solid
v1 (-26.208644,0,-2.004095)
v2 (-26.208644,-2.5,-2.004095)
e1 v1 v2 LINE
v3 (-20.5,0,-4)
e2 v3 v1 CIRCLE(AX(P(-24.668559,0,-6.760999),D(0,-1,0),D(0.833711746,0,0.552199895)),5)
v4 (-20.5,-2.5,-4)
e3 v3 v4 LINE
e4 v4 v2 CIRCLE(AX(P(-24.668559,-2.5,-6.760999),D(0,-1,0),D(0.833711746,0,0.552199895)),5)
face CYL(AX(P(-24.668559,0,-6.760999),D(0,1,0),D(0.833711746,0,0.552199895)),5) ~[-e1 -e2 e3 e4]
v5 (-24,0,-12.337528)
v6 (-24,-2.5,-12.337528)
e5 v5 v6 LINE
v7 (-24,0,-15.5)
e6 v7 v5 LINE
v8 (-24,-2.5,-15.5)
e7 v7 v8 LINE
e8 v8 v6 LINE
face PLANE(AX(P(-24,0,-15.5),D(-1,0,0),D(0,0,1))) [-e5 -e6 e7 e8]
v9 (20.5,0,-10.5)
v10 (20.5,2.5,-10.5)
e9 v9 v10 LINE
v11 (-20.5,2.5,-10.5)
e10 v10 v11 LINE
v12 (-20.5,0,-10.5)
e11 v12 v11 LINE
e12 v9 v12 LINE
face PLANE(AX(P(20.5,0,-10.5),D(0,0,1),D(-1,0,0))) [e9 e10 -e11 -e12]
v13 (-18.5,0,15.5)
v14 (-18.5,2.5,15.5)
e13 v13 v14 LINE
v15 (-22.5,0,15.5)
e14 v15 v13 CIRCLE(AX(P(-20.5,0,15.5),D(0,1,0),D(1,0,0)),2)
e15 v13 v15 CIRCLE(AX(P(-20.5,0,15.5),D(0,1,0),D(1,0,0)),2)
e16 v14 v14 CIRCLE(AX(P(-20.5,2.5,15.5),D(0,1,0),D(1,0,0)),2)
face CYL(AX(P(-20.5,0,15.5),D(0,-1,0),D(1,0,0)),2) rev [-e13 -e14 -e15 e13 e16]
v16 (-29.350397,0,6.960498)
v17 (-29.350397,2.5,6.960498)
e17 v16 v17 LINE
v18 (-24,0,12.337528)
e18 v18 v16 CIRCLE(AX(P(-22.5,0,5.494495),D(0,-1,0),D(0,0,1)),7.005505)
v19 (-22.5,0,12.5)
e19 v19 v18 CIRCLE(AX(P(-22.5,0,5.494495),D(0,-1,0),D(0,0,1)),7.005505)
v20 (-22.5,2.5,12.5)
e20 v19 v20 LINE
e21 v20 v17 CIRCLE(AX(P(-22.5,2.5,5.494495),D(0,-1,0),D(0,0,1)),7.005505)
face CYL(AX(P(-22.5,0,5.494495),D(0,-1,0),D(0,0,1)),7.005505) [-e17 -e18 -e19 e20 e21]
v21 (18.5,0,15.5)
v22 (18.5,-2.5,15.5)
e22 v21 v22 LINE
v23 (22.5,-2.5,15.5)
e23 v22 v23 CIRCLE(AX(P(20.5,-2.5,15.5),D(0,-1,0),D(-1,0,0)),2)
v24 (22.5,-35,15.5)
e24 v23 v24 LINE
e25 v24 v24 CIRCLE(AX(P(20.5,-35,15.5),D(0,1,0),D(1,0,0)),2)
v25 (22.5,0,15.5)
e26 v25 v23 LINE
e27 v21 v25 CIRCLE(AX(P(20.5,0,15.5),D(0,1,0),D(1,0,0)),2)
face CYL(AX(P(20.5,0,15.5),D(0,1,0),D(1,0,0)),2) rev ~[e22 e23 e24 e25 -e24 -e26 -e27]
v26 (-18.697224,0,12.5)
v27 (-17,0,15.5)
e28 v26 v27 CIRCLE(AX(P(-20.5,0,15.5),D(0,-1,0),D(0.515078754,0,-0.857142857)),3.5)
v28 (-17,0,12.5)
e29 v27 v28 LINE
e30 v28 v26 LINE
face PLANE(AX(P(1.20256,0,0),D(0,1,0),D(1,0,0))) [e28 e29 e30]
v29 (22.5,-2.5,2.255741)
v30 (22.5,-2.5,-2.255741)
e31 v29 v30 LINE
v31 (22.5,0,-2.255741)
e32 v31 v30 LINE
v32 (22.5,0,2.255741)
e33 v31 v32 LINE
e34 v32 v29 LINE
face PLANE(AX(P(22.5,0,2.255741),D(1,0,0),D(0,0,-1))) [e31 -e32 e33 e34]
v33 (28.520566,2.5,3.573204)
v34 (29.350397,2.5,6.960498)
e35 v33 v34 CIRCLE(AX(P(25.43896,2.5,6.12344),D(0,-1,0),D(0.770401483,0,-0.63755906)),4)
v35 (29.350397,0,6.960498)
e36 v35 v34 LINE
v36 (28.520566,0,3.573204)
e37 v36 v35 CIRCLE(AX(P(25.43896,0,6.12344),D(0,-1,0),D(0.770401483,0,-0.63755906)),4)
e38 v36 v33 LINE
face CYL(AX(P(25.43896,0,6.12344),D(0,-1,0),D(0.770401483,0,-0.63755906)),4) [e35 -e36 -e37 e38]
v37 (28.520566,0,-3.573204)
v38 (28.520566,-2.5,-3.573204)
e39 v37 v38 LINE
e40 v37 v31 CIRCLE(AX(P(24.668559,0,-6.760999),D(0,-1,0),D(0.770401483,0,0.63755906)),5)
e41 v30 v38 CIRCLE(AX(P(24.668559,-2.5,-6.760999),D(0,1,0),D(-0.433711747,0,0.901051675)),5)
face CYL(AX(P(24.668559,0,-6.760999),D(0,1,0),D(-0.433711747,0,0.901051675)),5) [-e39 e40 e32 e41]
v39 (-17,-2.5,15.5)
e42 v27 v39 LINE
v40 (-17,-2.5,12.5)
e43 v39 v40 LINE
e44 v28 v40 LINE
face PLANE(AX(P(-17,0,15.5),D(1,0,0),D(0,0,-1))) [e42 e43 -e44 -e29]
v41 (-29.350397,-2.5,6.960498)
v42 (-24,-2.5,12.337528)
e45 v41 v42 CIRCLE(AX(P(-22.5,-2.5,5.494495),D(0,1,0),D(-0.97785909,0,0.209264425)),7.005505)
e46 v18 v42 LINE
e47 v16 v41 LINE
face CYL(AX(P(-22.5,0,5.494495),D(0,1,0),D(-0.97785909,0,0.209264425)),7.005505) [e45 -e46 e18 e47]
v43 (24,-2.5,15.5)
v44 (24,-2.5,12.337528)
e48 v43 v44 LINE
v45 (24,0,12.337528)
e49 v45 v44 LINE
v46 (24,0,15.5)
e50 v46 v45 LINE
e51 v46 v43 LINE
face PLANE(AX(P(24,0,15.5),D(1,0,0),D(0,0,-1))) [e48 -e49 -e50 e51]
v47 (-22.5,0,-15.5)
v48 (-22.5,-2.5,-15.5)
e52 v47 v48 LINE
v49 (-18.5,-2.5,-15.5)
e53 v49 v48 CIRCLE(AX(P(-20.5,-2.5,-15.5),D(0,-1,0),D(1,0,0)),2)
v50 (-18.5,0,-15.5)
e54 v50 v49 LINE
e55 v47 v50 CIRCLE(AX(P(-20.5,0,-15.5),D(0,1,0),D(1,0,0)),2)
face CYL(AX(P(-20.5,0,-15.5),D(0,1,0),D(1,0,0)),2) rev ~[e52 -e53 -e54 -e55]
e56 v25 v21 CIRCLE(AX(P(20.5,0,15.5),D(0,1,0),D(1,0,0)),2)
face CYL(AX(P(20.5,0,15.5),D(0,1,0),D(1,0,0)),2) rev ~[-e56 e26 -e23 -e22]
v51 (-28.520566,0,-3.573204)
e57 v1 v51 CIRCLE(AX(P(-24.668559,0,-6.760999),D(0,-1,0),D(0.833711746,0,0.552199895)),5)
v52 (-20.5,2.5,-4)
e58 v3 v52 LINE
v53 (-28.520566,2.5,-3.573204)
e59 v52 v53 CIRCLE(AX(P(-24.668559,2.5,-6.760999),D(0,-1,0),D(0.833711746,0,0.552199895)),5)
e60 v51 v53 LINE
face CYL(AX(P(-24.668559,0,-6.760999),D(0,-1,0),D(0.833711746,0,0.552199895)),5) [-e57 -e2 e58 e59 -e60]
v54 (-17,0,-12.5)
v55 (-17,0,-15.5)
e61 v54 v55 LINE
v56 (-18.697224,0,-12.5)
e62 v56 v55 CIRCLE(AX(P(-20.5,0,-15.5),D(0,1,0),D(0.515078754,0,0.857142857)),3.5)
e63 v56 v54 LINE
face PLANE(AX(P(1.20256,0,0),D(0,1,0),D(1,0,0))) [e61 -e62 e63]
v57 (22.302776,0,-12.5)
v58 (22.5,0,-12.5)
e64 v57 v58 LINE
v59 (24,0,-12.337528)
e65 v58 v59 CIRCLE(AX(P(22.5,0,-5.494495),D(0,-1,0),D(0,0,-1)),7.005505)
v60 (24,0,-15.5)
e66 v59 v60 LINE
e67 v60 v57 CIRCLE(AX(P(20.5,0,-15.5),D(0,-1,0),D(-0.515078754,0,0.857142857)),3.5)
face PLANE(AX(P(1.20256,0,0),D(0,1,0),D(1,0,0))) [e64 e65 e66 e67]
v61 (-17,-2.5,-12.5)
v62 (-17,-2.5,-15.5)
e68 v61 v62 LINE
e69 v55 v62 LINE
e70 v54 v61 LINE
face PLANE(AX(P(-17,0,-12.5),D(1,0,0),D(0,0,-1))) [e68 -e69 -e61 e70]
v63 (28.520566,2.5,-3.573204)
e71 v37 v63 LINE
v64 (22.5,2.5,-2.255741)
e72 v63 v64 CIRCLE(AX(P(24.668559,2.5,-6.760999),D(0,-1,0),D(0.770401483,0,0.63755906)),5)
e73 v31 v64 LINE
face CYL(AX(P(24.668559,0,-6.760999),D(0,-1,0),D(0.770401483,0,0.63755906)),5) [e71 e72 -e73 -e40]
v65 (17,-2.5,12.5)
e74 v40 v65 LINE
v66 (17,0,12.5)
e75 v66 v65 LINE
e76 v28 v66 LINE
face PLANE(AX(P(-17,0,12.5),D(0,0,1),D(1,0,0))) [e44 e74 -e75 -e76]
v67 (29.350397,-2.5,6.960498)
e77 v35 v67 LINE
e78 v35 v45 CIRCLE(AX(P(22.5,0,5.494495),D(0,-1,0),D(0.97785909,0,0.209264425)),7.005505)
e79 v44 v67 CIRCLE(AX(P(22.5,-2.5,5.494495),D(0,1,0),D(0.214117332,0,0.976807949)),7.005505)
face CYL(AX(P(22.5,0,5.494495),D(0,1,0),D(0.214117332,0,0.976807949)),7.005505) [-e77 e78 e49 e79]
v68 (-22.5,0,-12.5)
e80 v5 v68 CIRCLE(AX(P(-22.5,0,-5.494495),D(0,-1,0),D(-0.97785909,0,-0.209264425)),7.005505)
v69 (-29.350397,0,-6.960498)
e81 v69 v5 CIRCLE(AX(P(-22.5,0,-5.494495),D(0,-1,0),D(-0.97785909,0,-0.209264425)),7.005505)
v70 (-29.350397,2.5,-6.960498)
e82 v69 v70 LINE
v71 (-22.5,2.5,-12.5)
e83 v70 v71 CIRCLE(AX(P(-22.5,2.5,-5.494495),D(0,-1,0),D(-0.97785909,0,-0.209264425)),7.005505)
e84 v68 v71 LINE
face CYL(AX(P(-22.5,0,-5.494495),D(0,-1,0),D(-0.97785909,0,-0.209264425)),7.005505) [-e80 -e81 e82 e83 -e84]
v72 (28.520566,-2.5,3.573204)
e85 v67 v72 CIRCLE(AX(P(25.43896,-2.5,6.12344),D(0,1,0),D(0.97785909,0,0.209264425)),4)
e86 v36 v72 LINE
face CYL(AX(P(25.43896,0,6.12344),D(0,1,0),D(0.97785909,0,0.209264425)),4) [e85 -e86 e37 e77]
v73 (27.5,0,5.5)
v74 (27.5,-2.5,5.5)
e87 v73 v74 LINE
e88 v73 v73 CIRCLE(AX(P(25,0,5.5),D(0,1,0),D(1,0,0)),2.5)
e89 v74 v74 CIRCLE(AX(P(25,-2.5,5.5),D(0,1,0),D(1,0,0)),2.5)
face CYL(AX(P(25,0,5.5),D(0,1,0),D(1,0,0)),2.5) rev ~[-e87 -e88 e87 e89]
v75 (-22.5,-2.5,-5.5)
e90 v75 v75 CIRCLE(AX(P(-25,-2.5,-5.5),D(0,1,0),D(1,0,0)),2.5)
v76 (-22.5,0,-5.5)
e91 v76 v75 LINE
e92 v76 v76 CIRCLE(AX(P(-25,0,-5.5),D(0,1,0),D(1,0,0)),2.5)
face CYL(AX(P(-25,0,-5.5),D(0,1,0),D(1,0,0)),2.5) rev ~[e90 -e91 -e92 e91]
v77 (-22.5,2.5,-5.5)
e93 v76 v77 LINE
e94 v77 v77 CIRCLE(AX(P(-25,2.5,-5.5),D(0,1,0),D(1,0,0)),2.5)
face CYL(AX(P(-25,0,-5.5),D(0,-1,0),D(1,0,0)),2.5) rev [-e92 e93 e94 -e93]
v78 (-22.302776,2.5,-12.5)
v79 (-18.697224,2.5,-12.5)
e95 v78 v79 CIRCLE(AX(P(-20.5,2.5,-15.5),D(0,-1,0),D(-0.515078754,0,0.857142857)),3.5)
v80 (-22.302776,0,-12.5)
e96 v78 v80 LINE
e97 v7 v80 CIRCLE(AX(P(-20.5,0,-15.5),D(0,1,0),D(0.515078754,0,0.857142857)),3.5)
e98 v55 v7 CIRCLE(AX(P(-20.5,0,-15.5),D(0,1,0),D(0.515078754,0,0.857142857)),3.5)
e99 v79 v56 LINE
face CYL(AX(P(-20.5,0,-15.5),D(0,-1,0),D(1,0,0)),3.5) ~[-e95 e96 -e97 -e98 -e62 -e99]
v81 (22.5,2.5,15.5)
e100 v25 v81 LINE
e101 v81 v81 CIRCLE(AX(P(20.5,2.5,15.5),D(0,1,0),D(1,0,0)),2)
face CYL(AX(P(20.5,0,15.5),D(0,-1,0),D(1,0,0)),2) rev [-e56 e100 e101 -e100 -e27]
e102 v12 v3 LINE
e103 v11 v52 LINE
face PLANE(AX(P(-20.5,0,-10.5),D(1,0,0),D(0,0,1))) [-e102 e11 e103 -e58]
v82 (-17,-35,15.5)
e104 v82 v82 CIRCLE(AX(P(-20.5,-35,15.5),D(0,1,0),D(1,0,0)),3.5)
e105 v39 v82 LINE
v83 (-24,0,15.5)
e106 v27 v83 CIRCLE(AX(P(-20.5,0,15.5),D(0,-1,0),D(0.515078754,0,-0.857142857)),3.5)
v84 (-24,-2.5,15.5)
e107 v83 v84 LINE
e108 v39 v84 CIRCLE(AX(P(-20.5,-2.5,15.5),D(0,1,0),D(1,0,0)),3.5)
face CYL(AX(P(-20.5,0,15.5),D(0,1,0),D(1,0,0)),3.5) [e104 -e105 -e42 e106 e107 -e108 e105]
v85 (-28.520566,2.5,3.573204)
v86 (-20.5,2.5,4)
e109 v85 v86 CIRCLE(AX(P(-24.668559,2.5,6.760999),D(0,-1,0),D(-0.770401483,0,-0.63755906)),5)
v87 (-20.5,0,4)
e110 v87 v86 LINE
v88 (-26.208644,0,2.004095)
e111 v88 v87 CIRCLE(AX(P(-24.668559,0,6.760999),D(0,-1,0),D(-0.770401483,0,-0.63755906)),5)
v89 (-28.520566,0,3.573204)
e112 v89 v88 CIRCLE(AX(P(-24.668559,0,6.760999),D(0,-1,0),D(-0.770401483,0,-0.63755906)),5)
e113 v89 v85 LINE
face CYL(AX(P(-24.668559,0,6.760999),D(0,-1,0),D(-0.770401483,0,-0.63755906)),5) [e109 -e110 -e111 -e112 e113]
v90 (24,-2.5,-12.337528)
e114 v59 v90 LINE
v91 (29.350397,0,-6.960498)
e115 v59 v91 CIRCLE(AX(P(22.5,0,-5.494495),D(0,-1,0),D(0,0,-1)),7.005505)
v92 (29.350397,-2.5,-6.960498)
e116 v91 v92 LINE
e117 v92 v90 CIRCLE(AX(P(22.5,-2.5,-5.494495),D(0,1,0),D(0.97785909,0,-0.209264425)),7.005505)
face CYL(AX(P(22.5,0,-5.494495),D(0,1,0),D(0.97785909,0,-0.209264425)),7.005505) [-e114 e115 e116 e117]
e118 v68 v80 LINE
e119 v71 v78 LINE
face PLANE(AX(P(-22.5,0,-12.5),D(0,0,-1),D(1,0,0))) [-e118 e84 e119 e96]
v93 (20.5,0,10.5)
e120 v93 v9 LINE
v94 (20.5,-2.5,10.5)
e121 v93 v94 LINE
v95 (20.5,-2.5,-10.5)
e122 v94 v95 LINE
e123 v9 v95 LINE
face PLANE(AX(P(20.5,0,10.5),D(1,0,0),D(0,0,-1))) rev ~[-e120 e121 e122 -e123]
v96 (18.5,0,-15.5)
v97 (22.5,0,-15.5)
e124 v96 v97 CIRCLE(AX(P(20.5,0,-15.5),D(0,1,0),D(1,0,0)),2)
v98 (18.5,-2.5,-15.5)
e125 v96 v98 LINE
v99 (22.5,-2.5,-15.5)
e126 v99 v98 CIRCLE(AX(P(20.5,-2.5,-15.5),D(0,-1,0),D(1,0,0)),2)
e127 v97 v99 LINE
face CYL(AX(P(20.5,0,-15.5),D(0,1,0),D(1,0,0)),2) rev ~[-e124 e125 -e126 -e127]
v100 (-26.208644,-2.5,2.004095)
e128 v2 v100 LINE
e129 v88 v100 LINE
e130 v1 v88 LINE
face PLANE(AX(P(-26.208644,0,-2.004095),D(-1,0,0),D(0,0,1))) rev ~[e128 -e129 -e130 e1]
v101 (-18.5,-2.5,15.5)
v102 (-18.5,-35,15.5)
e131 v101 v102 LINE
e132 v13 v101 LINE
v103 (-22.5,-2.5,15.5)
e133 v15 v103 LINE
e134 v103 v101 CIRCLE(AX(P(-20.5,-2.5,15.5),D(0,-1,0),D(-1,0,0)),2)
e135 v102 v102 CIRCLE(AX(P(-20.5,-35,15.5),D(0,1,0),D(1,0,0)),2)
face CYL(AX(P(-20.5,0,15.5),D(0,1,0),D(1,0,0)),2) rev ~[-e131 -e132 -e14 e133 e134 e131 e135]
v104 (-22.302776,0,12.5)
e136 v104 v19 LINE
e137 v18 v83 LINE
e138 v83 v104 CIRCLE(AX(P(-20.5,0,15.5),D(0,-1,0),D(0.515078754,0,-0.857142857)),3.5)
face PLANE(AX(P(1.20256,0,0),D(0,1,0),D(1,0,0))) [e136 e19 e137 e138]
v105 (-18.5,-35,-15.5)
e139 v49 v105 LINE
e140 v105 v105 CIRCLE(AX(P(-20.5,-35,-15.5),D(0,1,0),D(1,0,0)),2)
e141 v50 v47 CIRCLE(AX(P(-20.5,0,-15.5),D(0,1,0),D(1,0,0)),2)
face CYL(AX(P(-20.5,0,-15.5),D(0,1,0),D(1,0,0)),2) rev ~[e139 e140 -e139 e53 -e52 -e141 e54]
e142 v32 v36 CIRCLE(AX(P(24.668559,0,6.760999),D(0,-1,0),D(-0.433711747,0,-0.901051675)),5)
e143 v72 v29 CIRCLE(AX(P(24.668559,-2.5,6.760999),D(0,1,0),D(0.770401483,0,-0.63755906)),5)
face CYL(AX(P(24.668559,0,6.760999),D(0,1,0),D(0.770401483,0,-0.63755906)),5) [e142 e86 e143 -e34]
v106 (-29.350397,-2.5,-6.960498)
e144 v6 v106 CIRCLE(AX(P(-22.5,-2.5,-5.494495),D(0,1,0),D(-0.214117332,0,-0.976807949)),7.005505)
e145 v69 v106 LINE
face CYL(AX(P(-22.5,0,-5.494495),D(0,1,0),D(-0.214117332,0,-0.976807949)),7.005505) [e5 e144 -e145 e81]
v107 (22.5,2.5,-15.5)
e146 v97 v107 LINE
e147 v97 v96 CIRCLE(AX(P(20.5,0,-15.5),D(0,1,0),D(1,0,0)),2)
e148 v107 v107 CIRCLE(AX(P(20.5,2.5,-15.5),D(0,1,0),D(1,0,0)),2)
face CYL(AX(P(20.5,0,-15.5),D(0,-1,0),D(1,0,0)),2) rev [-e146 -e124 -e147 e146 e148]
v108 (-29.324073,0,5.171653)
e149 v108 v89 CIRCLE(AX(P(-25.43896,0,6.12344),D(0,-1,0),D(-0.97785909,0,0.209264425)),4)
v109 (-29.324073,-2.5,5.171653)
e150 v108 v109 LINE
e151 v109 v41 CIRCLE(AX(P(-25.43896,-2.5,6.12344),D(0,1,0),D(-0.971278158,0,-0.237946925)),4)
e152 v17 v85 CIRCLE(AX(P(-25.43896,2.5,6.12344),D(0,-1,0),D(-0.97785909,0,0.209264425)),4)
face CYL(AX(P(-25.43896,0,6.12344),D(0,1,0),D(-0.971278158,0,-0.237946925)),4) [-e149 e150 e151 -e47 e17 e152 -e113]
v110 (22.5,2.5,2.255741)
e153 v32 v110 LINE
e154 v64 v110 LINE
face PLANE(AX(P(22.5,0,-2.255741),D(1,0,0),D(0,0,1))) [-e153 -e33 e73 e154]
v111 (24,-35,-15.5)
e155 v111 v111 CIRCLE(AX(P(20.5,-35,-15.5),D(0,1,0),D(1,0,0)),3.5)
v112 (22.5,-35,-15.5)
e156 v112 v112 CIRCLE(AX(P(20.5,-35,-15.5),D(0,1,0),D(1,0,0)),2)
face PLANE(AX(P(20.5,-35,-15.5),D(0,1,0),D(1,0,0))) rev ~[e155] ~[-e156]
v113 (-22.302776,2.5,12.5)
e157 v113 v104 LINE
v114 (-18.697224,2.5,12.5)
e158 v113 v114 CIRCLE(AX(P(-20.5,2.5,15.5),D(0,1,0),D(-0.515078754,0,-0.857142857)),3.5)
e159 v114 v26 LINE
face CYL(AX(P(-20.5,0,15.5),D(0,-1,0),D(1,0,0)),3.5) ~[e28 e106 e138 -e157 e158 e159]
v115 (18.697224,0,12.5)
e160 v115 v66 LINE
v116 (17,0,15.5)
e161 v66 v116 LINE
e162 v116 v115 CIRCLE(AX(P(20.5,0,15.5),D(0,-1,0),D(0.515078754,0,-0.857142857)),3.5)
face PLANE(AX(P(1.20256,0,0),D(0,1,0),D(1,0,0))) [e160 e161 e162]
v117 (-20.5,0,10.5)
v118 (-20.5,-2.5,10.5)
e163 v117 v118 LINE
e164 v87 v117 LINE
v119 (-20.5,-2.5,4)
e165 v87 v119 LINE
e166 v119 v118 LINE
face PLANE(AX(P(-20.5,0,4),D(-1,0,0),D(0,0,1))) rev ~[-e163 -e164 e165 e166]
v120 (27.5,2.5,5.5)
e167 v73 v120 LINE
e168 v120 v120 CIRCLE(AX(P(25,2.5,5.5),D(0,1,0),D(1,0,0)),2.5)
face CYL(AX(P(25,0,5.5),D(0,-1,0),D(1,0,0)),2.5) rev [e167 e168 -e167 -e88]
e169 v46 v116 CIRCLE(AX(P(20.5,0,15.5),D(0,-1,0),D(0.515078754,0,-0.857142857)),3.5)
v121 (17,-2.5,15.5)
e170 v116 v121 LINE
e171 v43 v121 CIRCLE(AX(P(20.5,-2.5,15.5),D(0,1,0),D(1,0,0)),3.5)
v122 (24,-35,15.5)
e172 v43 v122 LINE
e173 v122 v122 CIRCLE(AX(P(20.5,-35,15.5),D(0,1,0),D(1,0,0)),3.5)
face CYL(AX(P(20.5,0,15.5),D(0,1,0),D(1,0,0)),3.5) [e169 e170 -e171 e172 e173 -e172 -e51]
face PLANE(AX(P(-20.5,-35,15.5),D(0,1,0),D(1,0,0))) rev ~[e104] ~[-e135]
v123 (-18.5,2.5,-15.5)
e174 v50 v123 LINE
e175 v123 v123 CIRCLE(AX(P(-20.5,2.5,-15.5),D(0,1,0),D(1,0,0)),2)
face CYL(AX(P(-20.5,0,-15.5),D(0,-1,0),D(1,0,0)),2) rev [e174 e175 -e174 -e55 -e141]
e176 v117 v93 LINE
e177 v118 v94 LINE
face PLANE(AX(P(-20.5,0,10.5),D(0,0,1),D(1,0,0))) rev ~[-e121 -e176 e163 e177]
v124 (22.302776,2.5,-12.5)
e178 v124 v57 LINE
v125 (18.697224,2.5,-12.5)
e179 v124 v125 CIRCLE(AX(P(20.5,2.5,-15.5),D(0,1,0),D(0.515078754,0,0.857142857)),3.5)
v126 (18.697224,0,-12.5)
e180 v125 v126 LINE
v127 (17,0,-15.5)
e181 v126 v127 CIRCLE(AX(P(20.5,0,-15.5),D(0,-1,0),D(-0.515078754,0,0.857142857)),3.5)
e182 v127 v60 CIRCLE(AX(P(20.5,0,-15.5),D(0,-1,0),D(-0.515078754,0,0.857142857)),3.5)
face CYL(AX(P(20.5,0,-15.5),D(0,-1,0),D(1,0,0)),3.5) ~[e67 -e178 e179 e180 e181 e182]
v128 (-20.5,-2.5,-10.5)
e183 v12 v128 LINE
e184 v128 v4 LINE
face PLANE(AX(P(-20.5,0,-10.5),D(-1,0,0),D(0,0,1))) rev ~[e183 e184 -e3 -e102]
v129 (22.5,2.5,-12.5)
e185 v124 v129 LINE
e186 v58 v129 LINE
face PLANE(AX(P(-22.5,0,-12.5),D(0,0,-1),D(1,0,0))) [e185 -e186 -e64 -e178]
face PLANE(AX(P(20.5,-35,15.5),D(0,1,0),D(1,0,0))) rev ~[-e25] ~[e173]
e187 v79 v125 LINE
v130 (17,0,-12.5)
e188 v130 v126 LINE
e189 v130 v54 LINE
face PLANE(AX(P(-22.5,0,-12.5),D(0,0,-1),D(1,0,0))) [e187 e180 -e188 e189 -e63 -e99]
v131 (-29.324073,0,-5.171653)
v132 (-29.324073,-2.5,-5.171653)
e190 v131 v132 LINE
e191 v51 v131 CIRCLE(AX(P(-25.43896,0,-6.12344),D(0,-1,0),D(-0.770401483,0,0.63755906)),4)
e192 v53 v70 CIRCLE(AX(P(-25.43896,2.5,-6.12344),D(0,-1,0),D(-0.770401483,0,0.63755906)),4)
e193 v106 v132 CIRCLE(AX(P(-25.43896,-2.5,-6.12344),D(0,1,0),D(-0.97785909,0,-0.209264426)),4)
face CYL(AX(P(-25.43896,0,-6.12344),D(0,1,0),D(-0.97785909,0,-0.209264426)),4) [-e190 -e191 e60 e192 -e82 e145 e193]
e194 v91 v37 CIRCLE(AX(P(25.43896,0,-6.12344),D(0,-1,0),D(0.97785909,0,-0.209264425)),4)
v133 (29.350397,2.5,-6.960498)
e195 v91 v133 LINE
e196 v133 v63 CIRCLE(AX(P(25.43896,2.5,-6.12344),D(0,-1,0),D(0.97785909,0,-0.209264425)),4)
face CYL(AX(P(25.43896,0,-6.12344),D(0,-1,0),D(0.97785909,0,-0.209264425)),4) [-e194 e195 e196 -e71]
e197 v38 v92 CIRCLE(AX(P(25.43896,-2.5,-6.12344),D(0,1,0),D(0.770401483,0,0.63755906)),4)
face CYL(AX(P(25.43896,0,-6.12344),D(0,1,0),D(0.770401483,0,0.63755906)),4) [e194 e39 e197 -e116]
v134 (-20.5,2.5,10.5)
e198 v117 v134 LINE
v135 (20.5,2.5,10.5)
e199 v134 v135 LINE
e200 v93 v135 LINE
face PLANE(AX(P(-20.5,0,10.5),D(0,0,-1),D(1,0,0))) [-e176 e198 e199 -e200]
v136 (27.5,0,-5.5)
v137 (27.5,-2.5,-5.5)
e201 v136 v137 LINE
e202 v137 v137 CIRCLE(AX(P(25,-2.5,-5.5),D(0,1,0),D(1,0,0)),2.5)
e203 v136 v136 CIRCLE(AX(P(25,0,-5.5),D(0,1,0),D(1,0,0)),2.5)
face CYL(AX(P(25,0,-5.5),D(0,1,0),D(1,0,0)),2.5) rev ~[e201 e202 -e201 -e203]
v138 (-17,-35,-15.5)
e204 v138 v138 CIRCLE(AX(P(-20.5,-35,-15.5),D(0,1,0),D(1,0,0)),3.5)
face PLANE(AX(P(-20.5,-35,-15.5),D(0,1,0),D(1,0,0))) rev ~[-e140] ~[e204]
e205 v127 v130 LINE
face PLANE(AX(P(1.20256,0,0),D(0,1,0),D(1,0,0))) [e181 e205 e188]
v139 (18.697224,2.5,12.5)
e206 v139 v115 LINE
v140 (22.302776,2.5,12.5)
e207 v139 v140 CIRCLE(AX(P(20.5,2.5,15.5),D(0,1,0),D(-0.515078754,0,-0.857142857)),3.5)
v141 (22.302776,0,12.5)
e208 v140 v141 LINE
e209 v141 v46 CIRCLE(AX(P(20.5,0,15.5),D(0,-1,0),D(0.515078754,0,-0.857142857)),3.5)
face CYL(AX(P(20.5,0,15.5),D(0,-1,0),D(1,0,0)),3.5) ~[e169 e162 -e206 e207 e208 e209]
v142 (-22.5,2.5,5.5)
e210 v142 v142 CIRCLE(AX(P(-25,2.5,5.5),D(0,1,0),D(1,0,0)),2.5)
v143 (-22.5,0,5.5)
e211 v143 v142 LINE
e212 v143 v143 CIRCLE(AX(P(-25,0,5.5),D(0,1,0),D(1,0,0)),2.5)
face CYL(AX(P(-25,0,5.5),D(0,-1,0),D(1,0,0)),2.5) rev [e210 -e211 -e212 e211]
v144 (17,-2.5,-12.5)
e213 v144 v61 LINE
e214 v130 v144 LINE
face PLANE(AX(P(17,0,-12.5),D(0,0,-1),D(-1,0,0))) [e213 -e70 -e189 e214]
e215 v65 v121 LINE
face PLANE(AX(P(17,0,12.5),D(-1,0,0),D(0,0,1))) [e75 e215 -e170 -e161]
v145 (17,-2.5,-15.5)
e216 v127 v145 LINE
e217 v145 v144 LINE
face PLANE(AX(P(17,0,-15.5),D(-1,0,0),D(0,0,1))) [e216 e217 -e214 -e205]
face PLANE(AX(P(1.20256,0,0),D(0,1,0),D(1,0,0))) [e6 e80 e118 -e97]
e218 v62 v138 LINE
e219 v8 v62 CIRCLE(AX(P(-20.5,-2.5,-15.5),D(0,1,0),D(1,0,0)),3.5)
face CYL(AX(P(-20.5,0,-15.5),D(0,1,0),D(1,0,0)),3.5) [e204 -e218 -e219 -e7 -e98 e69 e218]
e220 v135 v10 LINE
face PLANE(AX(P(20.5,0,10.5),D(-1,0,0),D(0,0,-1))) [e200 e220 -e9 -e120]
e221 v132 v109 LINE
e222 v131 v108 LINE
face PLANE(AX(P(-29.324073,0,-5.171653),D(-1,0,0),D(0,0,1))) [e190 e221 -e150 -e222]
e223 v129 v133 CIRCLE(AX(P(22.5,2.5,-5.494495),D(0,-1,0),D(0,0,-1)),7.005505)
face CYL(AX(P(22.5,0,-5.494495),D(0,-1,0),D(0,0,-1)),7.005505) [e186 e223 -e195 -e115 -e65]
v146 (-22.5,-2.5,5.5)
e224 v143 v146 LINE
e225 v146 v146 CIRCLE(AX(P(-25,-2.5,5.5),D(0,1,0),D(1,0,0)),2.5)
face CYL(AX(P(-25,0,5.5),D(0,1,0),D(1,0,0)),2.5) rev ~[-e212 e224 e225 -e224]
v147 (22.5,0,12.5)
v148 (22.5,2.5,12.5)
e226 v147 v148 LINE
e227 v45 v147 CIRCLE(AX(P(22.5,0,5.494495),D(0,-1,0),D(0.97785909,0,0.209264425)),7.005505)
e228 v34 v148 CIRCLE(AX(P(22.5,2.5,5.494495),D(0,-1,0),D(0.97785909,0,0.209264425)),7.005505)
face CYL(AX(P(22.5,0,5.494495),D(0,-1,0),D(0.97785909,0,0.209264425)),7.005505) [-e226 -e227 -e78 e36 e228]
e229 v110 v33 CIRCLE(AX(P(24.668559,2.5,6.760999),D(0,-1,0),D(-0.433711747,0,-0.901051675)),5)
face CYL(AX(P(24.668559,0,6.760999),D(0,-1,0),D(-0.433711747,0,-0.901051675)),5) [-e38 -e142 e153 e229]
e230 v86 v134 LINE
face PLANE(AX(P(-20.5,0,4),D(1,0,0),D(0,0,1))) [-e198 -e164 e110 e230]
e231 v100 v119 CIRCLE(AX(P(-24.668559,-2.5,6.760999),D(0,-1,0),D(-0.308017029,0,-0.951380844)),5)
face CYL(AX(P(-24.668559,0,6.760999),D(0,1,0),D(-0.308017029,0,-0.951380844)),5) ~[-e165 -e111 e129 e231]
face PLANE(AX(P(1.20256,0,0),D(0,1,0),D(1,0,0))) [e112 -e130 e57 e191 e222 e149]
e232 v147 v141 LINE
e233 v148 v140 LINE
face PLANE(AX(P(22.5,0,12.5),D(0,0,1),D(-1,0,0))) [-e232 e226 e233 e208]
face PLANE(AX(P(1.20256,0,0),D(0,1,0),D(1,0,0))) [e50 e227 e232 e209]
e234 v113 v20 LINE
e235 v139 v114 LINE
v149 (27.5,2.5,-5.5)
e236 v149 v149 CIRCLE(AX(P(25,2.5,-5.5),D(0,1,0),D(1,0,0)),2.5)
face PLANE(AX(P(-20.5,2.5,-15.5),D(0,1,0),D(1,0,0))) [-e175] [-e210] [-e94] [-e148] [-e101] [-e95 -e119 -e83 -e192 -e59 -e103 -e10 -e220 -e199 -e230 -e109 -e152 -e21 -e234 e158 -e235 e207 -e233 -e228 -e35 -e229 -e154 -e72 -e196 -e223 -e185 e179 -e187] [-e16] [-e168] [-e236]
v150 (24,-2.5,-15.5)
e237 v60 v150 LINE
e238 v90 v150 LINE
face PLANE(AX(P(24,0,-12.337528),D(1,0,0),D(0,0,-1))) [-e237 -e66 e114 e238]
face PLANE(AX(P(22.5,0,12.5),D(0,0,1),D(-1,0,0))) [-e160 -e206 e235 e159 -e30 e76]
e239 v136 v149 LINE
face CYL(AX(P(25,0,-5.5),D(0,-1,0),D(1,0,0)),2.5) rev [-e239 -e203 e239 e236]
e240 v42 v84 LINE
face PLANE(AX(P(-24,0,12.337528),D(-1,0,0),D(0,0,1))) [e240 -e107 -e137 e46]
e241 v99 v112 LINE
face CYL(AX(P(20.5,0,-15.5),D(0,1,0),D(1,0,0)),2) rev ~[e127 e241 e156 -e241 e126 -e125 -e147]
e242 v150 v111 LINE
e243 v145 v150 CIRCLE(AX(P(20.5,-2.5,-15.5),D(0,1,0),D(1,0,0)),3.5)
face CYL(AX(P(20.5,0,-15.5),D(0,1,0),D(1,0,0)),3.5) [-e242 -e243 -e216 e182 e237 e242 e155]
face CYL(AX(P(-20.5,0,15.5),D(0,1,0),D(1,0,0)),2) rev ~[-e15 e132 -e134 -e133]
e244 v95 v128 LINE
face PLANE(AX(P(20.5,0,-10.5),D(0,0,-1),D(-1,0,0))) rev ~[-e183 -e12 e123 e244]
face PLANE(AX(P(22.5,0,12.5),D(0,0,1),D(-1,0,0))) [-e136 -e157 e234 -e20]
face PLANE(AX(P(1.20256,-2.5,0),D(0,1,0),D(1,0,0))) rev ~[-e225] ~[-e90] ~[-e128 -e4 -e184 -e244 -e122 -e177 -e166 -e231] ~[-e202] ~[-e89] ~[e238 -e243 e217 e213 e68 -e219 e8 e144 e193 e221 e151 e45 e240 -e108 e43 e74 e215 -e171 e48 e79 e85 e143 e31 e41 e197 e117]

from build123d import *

# Parameters (mm, degrees)
SKETCH1_R                = 2.5
BOSS_EXTRUDE1_DEPTH      = 2.5
SKETCH4_R                = 3.5
SKETCH4_R_2              = 2
BOSS_EXTRUDE2_DEPTH      = 2.5
BOSS_EXTRUDE2_DEPTH_BACK = 35
SKETCH5_R                = 2.5
BOSS_EXTRUDE3_DEPTH      = 2.5


with BuildPart() as part:
    # Sketch1 → Boss-Extrude1 (new body)
    with BuildSketch(Plane(origin=(0, 0, 0), x_dir=(1, 0, 0), z_dir=(0, 1, 0))):
        with BuildLine():
            Line((20.5, 10.5), (-20.5, 10.5))
            Line((-20.5, 10.5), (-20.5, 4))
            ThreePointArc((-20.5, 4), (-24.40287122, 1.76806345), (-28.520566145, 3.573204173))
            ThreePointArc((-28.520566145, 3.573204173), (-29.324072849, 5.171652721), (-29.350396575, 6.960498116))
            ThreePointArc((-29.350396575, 6.960498116), (-26.904940816, 10.941842627), (-22.5, 12.5))
            Line((-22.5, 12.5), (22.5, 12.5))
            ThreePointArc((22.5, 12.5), (26.904940816, 10.941842627), (29.350396575, 6.960498116))
            ThreePointArc((29.350396575, 6.960498116), (29.324072849, 5.171652721), (28.520566145, 3.573204173))
            ThreePointArc((28.520566145, 3.573204173), (25.737402548, 1.876578025), (22.5, 2.2557411))
            Line((22.5, 2.2557411), (22.5, -2.2557411))
            ThreePointArc((22.5, -2.2557411), (25.737402548, -1.876578025), (28.520566145, -3.573204173))
            ThreePointArc((28.520566145, -3.573204173), (29.324072849, -5.171652721), (29.350396575, -6.960498116))
            ThreePointArc((29.350396575, -6.960498116), (26.904940816, -10.941842627), (22.5, -12.5))
            Line((22.5, -12.5), (-22.5, -12.5))
            ThreePointArc((-22.5, -12.5), (-26.904940816, -10.941842627), (-29.350396575, -6.960498116))
            ThreePointArc((-29.350396575, -6.960498116), (-29.324072849, -5.171652721), (-28.520566145, -3.573204173))
            ThreePointArc((-28.520566145, -3.573204173), (-24.40287122, -1.76806345), (-20.5, -4))
            Line((-20.5, -4), (-20.5, -10.5))
            Line((-20.5, -10.5), (20.5, -10.5))
            Line((20.5, -10.5), (20.5, 10.5))
        make_face()
        with Locations((-25, 5.5)):
            Circle(SKETCH1_R, mode=Mode.SUBTRACT)
        with Locations((-25, -5.5)):
            Circle(SKETCH1_R, mode=Mode.SUBTRACT)
        with Locations((25, -5.5)):
            Circle(SKETCH1_R, mode=Mode.SUBTRACT)
        with Locations((25, 5.5)):
            Circle(SKETCH1_R, mode=Mode.SUBTRACT)
    extrude(amount=BOSS_EXTRUDE1_DEPTH)

    # Sketch4 → Boss-Extrude2 (add, two sides)
    with BuildSketch(Plane(origin=(0, 0, 0), x_dir=(1, 0, 0), z_dir=(0, 1, 0))) as boss_extrude2_sk:
        with Locations((-20.5, 15.5)):
            Circle(SKETCH4_R)
        with Locations((-20.5, 15.5)):
            Circle(SKETCH4_R_2, mode=Mode.SUBTRACT)
        with Locations((20.5, 15.5)):
            Circle(SKETCH4_R)
        with Locations((20.5, 15.5)):
            Circle(SKETCH4_R_2, mode=Mode.SUBTRACT)
        with Locations((-20.5, -15.5)):
            Circle(SKETCH4_R)
        with Locations((-20.5, -15.5)):
            Circle(SKETCH4_R_2, mode=Mode.SUBTRACT)
        with Locations((20.5, -15.5)):
            Circle(SKETCH4_R)
        with Locations((20.5, -15.5)):
            Circle(SKETCH4_R_2, mode=Mode.SUBTRACT)
    extrude(amount=BOSS_EXTRUDE2_DEPTH)
    extrude(boss_extrude2_sk.sketch, amount=-BOSS_EXTRUDE2_DEPTH_BACK)

    # Sketch5 → Boss-Extrude3 (add)
    with BuildSketch(Plane(origin=(0, 0, 0), x_dir=(1, 0, 0), z_dir=(0, 1, 0))):
        with BuildLine():
            Line((-29.324072849, 5.171652721), (-29.324072849, -5.171652721))
            ThreePointArc((-29.324072849, -5.171652721), (-29.438527194, -6.064584851), (-29.350396575, -6.960498116))
            ThreePointArc((-29.350396575, -6.960498116), (-27.465923203, -10.435821373), (-24, -12.337527971))
            Line((-24, -12.337527971), (-24, -15.5))
            Line((-24, -15.5), (-22.5, -15.5))
            ThreePointArc((-22.5, -15.5), (-20.5, -13.5), (-18.5, -15.5))
            Line((-18.5, -15.5), (-17, -15.5))
            Line((-17, -15.5), (-17, -12.5))
            Line((-17, -12.5), (17, -12.5))
            Line((17, -12.5), (17, -15.5))
            Line((17, -15.5), (18.5, -15.5))
            ThreePointArc((18.5, -15.5), (20.5, -13.5), (22.5, -15.5))
            Line((22.5, -15.5), (24, -15.5))
            Line((24, -15.5), (24, -12.337527971))
            ThreePointArc((24, -12.337527971), (27.465923203, -10.435821373), (29.350396575, -6.960498116))
            ThreePointArc((29.350396575, -6.960498116), (29.324072849, -5.171652721), (28.520566145, -3.573204173))
            ThreePointArc((28.520566145, -3.573204173), (25.737402548, -1.876578025), (22.5, -2.2557411))
            Line((22.5, -2.2557411), (22.5, 2.2557411))
            ThreePointArc((22.5, 2.2557411), (25.737402548, 1.876578025), (28.520566145, 3.573204173))
            ThreePointArc((28.520566145, 3.573204173), (29.324072849, 5.171652721), (29.350396575, 6.960498116))
            ThreePointArc((29.350396575, 6.960498116), (27.465923203, 10.435821373), (24, 12.337527971))
            Line((24, 12.337527971), (24, 15.5))
            Line((24, 15.5), (22.5, 15.5))
            ThreePointArc((22.5, 15.5), (20.5, 13.5), (18.5, 15.5))
            Line((18.5, 15.5), (17, 15.5))
            Line((17, 15.5), (17, 12.5))
            Line((17, 12.5), (-17, 12.5))
            Line((-17, 12.5), (-17, 15.5))
            Line((-17, 15.5), (-18.5, 15.5))
            ThreePointArc((-18.5, 15.5), (-20.5, 13.5), (-22.5, 15.5))
            Line((-22.5, 15.5), (-24, 15.5))
            Line((-24, 15.5), (-24, 12.337527971))
            ThreePointArc((-24, 12.337527971), (-27.465923203, 10.435821373), (-29.350396575, 6.960498116))
            ThreePointArc((-29.350396575, 6.960498116), (-29.438527194, 6.064584851), (-29.324072849, 5.171652721))
        make_face()
        with Locations((-25, 5.5)):
            Circle(SKETCH5_R, mode=Mode.SUBTRACT)
        with Locations((-25, -5.5)):
            Circle(SKETCH5_R, mode=Mode.SUBTRACT)
        with Locations((25, -5.5)):
            Circle(SKETCH5_R, mode=Mode.SUBTRACT)
        with Locations((25, 5.5)):
            Circle(SKETCH5_R, mode=Mode.SUBTRACT)
        with BuildLine():
            Line((-26.208643878, 2.004095257), (-26.208643878, -2.004095257))
            ThreePointArc((-26.208643878, -2.004095257), (-23.018368657, -2.041161266), (-20.5, -4))
            Line((-20.5, -4), (-20.5, -10.5))
            Line((-20.5, -10.5), (20.5, -10.5))
            Line((20.5, -10.5), (20.5, 10.5))
            Line((20.5, 10.5), (-20.5, 10.5))
            Line((-20.5, 10.5), (-20.5, 4))
            ThreePointArc((-20.5, 4), (-23.018368657, 2.041161266), (-26.208643878, 2.004095257))
        make_face(mode=Mode.SUBTRACT)
    extrude(amount=-BOSS_EXTRUDE3_DEPTH)


solid = part.part
